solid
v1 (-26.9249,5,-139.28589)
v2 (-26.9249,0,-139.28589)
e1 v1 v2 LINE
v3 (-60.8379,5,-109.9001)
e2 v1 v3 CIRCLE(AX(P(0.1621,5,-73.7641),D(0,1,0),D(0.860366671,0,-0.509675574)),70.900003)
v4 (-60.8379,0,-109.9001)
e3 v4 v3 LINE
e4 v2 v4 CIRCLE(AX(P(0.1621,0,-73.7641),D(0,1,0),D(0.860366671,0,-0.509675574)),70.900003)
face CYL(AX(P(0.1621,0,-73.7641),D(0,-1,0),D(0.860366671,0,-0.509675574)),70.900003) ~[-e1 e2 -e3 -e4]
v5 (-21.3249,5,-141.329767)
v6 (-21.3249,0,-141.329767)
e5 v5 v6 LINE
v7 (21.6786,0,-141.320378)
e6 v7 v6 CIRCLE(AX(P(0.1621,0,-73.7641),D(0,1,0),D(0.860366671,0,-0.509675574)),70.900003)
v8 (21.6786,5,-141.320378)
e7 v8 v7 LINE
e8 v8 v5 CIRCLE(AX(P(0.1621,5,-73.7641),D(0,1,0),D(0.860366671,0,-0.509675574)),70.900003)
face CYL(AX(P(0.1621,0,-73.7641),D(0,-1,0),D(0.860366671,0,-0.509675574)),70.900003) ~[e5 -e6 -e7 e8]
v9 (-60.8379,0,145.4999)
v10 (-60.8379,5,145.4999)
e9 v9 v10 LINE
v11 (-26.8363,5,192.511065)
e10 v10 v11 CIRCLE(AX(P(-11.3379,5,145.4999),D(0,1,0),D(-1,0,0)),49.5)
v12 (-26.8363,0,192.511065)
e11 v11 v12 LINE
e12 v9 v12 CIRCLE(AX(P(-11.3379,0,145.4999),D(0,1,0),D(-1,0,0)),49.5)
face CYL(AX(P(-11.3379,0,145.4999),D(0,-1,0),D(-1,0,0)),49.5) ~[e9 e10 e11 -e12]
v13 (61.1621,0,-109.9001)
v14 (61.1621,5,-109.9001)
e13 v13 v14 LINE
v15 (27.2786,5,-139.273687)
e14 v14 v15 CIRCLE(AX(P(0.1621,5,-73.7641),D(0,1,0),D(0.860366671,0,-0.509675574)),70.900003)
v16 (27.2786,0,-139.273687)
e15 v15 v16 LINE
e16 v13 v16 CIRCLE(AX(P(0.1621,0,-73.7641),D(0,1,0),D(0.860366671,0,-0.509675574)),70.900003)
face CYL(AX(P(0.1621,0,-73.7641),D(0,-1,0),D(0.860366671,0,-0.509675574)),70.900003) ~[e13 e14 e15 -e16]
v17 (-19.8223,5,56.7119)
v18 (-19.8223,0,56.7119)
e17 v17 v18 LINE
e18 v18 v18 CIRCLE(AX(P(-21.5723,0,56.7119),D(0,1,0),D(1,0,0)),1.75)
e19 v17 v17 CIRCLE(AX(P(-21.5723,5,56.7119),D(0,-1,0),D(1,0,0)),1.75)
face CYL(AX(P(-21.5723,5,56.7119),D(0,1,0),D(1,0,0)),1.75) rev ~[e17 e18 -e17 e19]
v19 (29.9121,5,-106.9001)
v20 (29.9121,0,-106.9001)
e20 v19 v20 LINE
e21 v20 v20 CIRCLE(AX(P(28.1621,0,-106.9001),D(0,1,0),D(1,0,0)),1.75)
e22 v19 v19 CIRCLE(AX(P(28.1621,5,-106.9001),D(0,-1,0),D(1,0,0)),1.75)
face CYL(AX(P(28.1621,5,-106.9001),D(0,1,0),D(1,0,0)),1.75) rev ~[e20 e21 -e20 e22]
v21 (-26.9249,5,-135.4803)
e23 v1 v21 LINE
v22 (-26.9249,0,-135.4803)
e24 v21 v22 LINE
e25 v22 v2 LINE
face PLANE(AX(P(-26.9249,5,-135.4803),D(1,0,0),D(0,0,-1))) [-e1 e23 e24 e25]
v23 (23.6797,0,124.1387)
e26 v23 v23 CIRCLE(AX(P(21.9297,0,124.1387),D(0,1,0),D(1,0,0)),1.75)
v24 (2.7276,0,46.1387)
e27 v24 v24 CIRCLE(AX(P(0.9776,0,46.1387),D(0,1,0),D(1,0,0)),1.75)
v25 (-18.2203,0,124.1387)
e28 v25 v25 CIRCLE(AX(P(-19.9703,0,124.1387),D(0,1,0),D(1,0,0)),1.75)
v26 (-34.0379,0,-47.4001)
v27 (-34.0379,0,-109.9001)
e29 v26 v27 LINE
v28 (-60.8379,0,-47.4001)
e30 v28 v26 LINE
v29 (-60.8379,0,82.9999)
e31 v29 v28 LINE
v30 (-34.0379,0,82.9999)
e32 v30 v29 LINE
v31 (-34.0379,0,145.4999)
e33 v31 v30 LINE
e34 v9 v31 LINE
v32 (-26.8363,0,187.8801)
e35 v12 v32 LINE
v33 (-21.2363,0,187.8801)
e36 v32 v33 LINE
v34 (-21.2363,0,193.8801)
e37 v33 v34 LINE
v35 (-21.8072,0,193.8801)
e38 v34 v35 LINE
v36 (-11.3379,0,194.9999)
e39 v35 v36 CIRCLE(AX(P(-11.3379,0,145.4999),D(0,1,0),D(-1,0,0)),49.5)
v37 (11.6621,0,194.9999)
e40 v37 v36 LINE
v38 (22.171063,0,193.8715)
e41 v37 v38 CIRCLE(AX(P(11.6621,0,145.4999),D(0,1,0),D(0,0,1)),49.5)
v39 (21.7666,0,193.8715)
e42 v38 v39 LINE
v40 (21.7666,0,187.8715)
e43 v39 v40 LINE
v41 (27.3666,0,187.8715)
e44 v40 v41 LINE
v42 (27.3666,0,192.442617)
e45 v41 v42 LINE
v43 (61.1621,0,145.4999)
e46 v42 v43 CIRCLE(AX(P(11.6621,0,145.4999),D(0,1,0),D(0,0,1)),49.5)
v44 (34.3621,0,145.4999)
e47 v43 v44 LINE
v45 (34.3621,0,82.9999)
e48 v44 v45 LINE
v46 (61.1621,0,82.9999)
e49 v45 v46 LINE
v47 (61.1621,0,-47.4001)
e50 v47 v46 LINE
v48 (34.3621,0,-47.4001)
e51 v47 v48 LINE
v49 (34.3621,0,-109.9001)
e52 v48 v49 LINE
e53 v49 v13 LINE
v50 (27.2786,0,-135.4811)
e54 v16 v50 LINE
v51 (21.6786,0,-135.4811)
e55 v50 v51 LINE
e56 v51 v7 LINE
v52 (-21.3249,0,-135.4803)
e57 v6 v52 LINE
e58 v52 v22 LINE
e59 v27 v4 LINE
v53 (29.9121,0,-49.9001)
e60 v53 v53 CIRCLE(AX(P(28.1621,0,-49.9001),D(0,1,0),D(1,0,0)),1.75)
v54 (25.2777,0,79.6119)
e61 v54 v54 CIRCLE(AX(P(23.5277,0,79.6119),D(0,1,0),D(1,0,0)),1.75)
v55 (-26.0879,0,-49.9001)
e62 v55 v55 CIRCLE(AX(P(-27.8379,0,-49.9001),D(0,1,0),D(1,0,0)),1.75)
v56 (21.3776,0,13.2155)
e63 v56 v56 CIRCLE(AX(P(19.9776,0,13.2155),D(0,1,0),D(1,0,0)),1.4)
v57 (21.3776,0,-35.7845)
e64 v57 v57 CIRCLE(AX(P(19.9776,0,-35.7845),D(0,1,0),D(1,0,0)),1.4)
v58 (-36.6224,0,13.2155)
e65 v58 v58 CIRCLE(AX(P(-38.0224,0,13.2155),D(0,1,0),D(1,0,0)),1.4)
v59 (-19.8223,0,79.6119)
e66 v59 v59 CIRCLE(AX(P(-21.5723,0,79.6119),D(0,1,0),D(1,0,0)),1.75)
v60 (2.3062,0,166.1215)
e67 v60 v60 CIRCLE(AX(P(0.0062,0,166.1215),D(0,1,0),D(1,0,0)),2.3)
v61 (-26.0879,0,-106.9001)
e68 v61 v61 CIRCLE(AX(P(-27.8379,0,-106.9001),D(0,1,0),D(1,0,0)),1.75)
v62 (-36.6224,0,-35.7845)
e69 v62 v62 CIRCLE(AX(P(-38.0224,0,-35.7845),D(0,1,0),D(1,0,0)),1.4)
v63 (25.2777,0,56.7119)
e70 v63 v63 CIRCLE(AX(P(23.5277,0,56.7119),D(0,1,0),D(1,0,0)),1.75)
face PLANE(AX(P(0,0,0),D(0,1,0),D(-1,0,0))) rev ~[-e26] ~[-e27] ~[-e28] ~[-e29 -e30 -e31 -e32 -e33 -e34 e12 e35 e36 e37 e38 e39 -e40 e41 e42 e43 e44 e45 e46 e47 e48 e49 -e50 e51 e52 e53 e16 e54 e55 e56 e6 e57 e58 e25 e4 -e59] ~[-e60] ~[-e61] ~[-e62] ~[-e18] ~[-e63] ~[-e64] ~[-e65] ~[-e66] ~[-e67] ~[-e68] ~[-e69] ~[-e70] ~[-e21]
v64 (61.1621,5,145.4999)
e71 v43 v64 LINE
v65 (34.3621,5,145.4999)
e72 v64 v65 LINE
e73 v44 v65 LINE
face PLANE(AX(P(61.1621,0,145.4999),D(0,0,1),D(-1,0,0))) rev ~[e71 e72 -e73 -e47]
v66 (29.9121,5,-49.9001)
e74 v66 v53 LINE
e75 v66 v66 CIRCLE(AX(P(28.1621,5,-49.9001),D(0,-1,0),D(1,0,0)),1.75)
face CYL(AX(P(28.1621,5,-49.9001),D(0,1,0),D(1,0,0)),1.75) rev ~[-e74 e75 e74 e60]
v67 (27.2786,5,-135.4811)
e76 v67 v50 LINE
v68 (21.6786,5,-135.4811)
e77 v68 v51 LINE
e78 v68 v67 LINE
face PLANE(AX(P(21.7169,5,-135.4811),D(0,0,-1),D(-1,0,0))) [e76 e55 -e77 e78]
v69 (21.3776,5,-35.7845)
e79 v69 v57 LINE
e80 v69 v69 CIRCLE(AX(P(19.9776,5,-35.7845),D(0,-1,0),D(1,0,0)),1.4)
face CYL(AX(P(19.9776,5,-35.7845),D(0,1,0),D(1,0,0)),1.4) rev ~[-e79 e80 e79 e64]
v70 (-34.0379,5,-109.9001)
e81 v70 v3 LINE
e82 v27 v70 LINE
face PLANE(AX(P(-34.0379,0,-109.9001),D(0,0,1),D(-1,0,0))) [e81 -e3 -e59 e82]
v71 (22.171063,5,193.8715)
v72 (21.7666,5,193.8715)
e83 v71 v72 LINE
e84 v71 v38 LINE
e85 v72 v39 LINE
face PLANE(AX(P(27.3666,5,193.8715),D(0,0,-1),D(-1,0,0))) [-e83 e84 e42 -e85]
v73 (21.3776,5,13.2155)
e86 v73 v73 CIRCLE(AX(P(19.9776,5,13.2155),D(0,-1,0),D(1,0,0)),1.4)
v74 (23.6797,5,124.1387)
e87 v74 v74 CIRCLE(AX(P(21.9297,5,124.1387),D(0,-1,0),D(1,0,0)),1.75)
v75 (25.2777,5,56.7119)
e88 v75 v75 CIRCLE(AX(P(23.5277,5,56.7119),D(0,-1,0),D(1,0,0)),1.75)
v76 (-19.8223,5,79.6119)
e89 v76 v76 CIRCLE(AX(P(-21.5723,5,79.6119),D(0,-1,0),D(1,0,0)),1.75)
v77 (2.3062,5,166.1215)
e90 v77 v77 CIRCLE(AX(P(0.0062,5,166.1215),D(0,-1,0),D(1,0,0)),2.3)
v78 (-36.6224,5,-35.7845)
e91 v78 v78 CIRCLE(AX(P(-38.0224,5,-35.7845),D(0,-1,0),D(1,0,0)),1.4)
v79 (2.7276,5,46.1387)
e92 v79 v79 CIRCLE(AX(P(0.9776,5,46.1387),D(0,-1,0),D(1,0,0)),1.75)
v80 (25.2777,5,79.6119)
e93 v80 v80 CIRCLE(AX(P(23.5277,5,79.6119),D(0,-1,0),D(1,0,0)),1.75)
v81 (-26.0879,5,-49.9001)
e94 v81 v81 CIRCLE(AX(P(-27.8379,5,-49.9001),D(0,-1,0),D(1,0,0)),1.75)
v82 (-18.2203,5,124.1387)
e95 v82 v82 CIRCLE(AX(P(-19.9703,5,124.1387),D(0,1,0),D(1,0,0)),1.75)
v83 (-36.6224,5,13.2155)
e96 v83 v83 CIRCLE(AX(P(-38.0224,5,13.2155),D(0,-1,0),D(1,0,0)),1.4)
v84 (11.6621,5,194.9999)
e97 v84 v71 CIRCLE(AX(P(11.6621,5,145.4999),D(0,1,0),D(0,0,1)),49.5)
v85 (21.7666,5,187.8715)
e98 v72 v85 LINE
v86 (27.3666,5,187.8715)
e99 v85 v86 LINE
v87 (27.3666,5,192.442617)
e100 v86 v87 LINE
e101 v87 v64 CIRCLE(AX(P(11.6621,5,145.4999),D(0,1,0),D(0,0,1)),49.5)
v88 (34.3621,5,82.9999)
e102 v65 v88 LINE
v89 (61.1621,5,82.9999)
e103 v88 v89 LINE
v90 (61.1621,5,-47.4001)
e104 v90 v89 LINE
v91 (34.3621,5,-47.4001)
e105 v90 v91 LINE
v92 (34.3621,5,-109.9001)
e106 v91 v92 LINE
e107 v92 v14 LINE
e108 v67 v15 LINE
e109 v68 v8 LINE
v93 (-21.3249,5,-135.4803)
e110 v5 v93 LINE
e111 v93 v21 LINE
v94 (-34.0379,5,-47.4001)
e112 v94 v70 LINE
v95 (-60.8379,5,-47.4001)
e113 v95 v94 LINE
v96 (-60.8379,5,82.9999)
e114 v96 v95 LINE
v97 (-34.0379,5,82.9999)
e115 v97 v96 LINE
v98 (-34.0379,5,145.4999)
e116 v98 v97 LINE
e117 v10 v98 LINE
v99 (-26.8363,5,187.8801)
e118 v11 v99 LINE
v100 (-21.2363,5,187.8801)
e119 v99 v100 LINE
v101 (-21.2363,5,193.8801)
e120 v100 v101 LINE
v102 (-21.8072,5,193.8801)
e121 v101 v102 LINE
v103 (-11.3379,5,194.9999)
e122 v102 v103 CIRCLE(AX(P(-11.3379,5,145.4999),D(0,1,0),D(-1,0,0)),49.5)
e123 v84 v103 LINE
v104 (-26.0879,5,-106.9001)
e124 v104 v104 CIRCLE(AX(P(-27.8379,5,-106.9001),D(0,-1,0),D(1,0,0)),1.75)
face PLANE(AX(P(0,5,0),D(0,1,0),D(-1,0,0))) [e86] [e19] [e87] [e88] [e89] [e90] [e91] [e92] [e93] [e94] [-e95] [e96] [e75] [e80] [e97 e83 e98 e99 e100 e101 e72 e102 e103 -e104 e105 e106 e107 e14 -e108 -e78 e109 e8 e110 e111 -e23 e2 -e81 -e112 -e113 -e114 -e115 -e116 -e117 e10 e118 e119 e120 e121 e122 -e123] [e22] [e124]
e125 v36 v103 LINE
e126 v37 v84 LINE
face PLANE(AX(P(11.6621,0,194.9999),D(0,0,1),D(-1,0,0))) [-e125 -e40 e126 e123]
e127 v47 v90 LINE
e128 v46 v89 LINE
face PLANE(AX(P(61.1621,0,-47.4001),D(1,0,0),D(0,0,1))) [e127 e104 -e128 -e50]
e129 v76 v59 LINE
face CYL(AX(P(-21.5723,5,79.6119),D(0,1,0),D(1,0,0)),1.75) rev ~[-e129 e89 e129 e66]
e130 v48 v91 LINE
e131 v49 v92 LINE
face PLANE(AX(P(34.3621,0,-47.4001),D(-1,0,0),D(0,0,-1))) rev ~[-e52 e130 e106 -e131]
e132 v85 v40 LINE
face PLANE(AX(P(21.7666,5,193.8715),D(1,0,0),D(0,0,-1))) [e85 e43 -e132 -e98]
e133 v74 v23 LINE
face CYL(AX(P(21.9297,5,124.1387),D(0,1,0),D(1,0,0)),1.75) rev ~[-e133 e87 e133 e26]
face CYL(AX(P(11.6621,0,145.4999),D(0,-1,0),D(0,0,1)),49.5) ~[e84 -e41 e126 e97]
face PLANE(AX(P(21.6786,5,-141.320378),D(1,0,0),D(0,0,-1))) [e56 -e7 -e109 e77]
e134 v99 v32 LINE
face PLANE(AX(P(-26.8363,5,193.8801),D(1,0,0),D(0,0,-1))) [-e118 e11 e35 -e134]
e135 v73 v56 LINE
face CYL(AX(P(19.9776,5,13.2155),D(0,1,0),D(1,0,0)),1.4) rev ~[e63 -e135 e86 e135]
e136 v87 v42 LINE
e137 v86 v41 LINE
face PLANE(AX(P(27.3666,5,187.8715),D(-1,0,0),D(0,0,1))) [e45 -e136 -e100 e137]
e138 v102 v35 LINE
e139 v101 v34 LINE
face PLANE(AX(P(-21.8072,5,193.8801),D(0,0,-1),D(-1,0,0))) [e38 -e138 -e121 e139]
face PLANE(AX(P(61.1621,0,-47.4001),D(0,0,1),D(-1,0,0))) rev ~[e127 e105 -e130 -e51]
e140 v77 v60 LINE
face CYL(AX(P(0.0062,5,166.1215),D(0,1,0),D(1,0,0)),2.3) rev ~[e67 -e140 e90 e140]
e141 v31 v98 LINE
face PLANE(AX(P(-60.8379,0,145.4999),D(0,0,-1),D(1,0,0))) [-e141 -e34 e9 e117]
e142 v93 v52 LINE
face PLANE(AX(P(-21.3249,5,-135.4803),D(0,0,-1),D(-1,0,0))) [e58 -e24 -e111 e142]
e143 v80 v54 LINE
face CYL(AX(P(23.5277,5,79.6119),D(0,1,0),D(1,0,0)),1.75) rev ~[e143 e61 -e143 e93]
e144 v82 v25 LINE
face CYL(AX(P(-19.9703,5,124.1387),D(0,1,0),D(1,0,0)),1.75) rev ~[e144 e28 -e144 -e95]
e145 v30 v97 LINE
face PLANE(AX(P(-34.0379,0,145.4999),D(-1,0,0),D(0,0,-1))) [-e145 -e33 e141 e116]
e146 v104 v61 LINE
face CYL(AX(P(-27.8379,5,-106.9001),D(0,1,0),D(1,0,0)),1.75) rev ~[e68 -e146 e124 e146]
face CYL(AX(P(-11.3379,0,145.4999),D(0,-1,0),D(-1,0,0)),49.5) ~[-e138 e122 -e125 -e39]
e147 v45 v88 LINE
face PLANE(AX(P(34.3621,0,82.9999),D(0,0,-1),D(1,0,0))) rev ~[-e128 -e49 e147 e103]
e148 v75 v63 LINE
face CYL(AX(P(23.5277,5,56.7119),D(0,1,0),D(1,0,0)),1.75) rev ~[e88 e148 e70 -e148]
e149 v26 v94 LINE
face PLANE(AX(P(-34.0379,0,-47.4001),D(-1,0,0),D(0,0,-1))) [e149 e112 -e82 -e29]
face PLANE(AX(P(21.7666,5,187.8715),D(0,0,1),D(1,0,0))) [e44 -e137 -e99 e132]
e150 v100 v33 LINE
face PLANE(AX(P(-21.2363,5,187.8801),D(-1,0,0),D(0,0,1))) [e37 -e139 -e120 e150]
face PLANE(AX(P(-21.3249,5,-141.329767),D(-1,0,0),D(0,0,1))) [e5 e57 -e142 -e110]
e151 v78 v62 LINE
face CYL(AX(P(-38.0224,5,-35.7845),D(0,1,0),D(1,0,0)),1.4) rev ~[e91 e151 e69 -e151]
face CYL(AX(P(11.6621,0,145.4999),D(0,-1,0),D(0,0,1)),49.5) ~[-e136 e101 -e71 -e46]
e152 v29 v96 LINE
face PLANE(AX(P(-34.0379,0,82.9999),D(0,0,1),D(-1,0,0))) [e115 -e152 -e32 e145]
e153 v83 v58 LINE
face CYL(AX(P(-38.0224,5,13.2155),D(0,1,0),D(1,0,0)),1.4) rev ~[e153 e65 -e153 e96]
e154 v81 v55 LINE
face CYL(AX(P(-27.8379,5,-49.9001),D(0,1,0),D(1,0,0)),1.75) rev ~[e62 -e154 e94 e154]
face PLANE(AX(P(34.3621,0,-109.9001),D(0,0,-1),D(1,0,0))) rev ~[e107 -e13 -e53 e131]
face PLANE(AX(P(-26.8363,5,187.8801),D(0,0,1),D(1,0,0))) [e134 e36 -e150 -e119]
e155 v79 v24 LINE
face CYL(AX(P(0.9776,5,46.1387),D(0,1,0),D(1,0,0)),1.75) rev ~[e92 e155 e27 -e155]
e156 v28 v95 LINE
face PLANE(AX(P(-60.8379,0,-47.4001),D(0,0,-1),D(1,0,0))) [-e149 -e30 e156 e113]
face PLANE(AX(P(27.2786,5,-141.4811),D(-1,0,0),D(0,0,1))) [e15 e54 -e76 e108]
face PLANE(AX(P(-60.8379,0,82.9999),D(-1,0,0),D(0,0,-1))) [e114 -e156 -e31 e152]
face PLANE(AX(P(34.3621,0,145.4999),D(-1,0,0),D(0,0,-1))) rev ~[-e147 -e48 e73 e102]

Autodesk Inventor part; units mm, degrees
ref_plane "YZ Plane" through (0, 0, 0) normal (1, 0, 0) x (0, 1, 0)
ref_plane "XZ Plane" through (0, 0, 0) normal (0, 1, 0) x (-1, 0, 0)
ref_plane "XY Plane" through (0, 0, 0) normal (0, 0, 1) x (1, 0, 0)
sketch "Sketch1" plane through (0, 0, 0) normal (0, 1, 0) x (-1, 0, 0)
  line L0 (-11.6621, 194.9999) -> (11.3379, 194.9999)
  line L1 (60.8379, 145.4999) -> (60.8379, -109.9001)
  line L2 (-61.1621, -109.9001) -> (-61.1621, 145.4999)
  line L3 (-61.1621, 194.9999) -> (61.1621, -194.9999) construction
  line L4 (60.8379, 194.9999) -> (-60.8379, -194.9999) construction
  arc A0 (60.8379, 145.4999) -> (11.3379, 194.9999) centre (11.3379, 145.4999) ccw
  arc A1 (-11.6621, 194.9999) -> (-61.1621, 145.4999) centre (-11.6621, 145.4999) ccw
  line L5 (-61.1621, 145.4999) -> (-34.3621, 145.4999)
  line L6 (-34.3621, 145.4999) -> (-34.3621, 82.9999)
  line L7 (-34.3621, 82.9999) -> (-61.1621, 82.9999)
  line L8 (-61.1621, 82.9999) -> (-61.1621, 145.4999)
  line L9 (-61.1621, 82.9999) -> (-61.1621, -47.4001)
  line L10 (-61.1621, -47.4001) -> (-34.3621, -47.4001)
  line L11 (-34.3621, -47.4001) -> (-34.3621, -109.9001)
  line L12 (-34.3621, -109.9001) -> (-61.1621, -109.9001)
  line L13 (-61.1621, -109.9001) -> (-61.1621, -47.4001)
  line L14 (60.8379, 145.4999) -> (34.0379, 145.4999)
  line L15 (34.0379, 145.4999) -> (34.0379, 82.9999)
  line L16 (34.0379, 82.9999) -> (60.8379, 82.9999)
  line L17 (60.8379, 82.9999) -> (60.8379, 145.4999)
  line L18 (60.8379, -47.4001) -> (34.0379, -47.4001)
  line L19 (34.0379, -47.4001) -> (34.0379, -109.9001)
  line L20 (34.0379, -109.9001) -> (60.8379, -109.9001)
  line L21 (60.8379, -109.9001) -> (60.8379, -47.4001)
  arc A2 (-61.1621, -109.9001) -> (60.8379, -109.9001) centre (-0.1621, -73.7641) ccw
  point P0 (0, 0)
  dimension "d0" = 122
  dimension "d1" = 390
  dimension "d2" = 49.5
  dimension "d4" = 26.8
  dimension "d5" = 62.5
  dimension "d6" = 130.4
  dimension "d7" = 26.8
  dimension "d8" = 62.5
  dimension "d9" = 26.8
  dimension "d10" = 62.5
  dimension "d11" = 26.8
  dimension "d12" = 62.5
  dimension "d13" = 70.9
extrude "Extrusion1" add sketch "Sketch1" along normal blind 5 contours L0 A0 L14 L15 L16 L1 L18 L19 L20 A2 L12 L11 L10 L2 L7 L6 L5 A1
sketch "Boceto2" plane through (0, 5, 0) normal (0, 1, 0) x (1, 0, 0)
  point P0 (0, 0)
sketch "Boceto3" plane through (0, 5, 0) normal (0, 1, 0) x (1, 0, 0)
  line L0 (-11.3379, -194.9999) -> (11.6621, -194.9999) projected
  line L1 (0.1621, -194.9999) -> (0.1621, -184.9999)
  line L2 (-2.7008, -183.6215) -> (19.0062, -183.6215)
  line L3 (19.0062, -183.6215) -> (-18.9938, -183.6215)
  line L4 (-2.7008, -148.6215) -> (19.0062, -148.6215)
  line L5 (19.0062, -148.6215) -> (-18.9938, -148.6215)
  line L6 (-18.9938, -148.6215) -> (-18.9938, -183.6215)
  line L7 (19.0062, -148.6215) -> (19.0062, -183.6215)
  line L8 (61.1621, -82.9999) -> (61.1621, 47.4001) projected
  line L9 (-60.8379, 47.4001) -> (-60.8379, -82.9999) projected
  line L10 (21.7666, -187.8715) -> (27.3666, -187.8715)
  line L11 (27.3666, -187.8715) -> (27.3666, -193.8715)
  line L12 (27.3666, -193.8715) -> (21.7666, -193.8715)
  line L13 (21.7666, -193.8715) -> (21.7666, -187.8715)
  line L14 (-11.3379, -194.9999) -> (-14.1379, -194.9999)
  arc A0 (-60.8379, -145.4999) -> (-11.3379, -194.9999) centre (-11.3379, -145.4999) ccw projected
  line L15 (-26.8363, -187.8801) -> (-21.2363, -187.8801)
  line L16 (-21.2363, -187.8801) -> (-21.2363, -193.8801)
  line L17 (-21.2363, -193.8801) -> (-26.8363, -193.8801)
  line L18 (-26.8363, -193.8801) -> (-26.8363, -187.8801)
  line L19 (21.7169, 135.4811) -> (27.3169, 135.4811)
  arc A1 (61.1621, 109.9001) -> (-60.8379, 109.9001) centre (0.1621, 73.7641) ccw projected
  line L20 (21.6786, 141.4811) -> (27.2786, 141.4811)
  line L21 (27.2786, 141.4811) -> (27.2786, 135.4811)
  line L22 (27.2786, 135.4811) -> (21.6786, 135.4811)
  line L23 (21.6786, 135.4811) -> (21.6786, 141.4811)
  line L24 (-26.9249, 141.4803) -> (-21.3249, 141.4803)
  line L25 (-21.3249, 141.4803) -> (-21.3249, 135.4803)
  line L26 (-21.3249, 135.4803) -> (-26.9249, 135.4803)
  line L27 (-26.9249, 135.4803) -> (-26.9249, 141.4803)
  line L28 (0.404, 144.7464) -> (0.404, -197.1126)
  line L29 (-34.0379, 47.4001) -> (-60.8379, 47.4001) projected
  line L30 (-60.8379, 47.4001) -> (-50.8379, 47.4001)
  line L31 (-41.5224, -16.7155) -> (-41.5224, 39.2845)
  line L32 (-41.5224, 39.2845) -> (43.4776, 39.2845)
  line L33 (43.4776, 39.2845) -> (43.4776, -16.7155)
  line L34 (43.4776, -16.7155) -> (-41.5224, -16.7155)
  line L35 (0.544, 11.7839) -> (0.544, 15.8925)
  line L36 (0.9776, 39.2845) -> (0.9776, -16.7155)
  line L37 (-21.3249, 141.4803) -> (21.6751, 141.4803)
  arc A2 (-60.8379, -145.4999) -> (-11.3379, -194.9999) centre (-11.3379, -145.4999) ccw projected
  line L38 (-34.0379, -82.9999) -> (-34.0379, -145.4999) projected
  line L39 (-21.2334, -193.8715) -> (-21.2169, -197.8147)
  line L40 (21.1268, -127.3043) -> (21.1268, -110.8043)
  line L41 (21.9297, -127.1387) -> (21.9297, -124.1387)
  line L42 (21.9297, -124.1387) -> (-19.9703, -124.1387)
  circle A3 centre (21.9297, -124.1387) radius 1.75
  circle A4 centre (-19.9703, -124.1387) radius 1.75
  line L43 (0.9797, -124.1387) -> (0.9776, -46.1387)
  circle A5 centre (0.9776, -46.1387) radius 1.75
  line L44 (3.2596, -48.0861) -> (0.432, -49.0887)
  line L45 (0.432, -49.0887) -> (-1.8499, -47.1412)
  line L46 (-1.8499, -47.1412) -> (-1.3044, -44.1913)
  line L47 (-1.3044, -44.1913) -> (1.5231, -43.1887)
  line L48 (1.5231, -43.1887) -> (3.8051, -45.1361)
  line L49 (3.8051, -45.1361) -> (3.2596, -48.0861)
  line L50 (0.9777, -49.2626) -> (28.4777, -49.2619)
  line L51 (28.4777, -49.2619) -> (-26.5223, -49.2619)
  line L52 (-26.5223, -49.2619) -> (-26.5223, -87.0619)
  line L53 (-26.5223, -87.0619) -> (28.4777, -87.0619)
  line L54 (28.4777, -87.0619) -> (28.4777, -49.2619)
  line L55 (-26.5223, -49.2619) -> (-23.3223, -49.2619)
  line L56 (-23.3223, -49.2619) -> (-23.3223, -54.9619)
  line L57 (-23.3223, -54.9619) -> (-21.5723, -54.9619)
  line L58 (-21.5723, -54.9619) -> (-21.5723, -56.7119)
  circle A6 centre (-21.5723, -56.7119) radius 1.75
  line L59 (-21.5723, -56.7119) -> (28.4777, -56.7119)
  line L60 (-21.5723, -56.7119) -> (-21.5723, -87.0619)
  line L61 (28.4777, -87.0619) -> (23.5277, -87.0619)
  line L62 (23.5277, -87.0619) -> (23.5277, -79.6119)
  circle A7 centre (23.5277, -79.6119) radius 1.75
  line L63 (23.5277, -79.6119) -> (-26.5223, -79.6119)
  line L64 (23.5277, -79.6119) -> (23.5277, -49.2619)
  circle A8 centre (23.5277, -56.7119) radius 1.75
  circle A9 centre (-21.5723, -79.6119) radius 1.75
  line L65 (-18.9938, -183.6215) -> (0.0062, -183.6215)
  line L66 (0.0062, -183.6215) -> (0.0062, -148.6215)
  line L67 (-21.2334, -193.8715) -> (21.7666, -193.8715)
  circle A10 centre (0.0062, -166.1215) radius 2.3
  line L68 (-41.5224, 39.2845) -> (-38.0224, 39.2845)
  line L69 (-38.0224, 39.2845) -> (-38.0224, 35.7845)
  line L70 (-38.0224, 35.7845) -> (19.9776, 35.7845)
  line L71 (19.9776, 35.7845) -> (19.9776, -13.2155)
  line L72 (19.9776, -13.2155) -> (-38.0224, -13.2155)
  line L73 (-38.0224, -13.2155) -> (-38.0224, 35.7845)
  circle A11 centre (-38.0224, 35.7845) radius 1.4
  circle A12 centre (19.9776, 35.7845) radius 1.4
  circle A13 centre (19.9776, -13.2155) radius 1.4
  circle A14 centre (-38.0224, -13.2155) radius 1.4
  line L74 (-34.0379, 109.9001) -> (-31.8379, 109.9001)
  line L75 (34.3621, 47.4001) -> (34.3621, 109.9001) projected
  line L76 (34.3621, 109.9001) -> (32.1621, 109.9001)
  line L77 (-31.8379, 109.9001) -> (32.1621, 109.9001)
  line L78 (32.1621, 109.9001) -> (32.1621, 47.4001)
  line L79 (32.1621, 47.4001) -> (-31.8379, 47.4001)
  line L80 (-31.8379, 47.4001) -> (-31.8379, 109.9001)
  line L81 (-31.8379, 109.9001) -> (-27.8379, 109.9001)
  line L82 (-27.8379, 109.9001) -> (-27.8379, 106.9001)
  line L83 (-27.8379, 106.9001) -> (28.1621, 106.9001)
  line L84 (28.1621, 106.9001) -> (28.1621, 49.9001)
  line L85 (28.1621, 49.9001) -> (-27.8379, 49.9001)
  line L86 (-27.8379, 49.9001) -> (-27.8379, 106.9001)
  circle A15 centre (-27.8379, 106.9001) radius 1.75
  circle A16 centre (28.1621, 106.9001) radius 1.75
  circle A17 centre (-27.8379, 49.9001) radius 1.75
  circle A18 centre (28.1621, 49.9001) radius 1.75
  point P0 (-21.5954, -147.627)
  point P1 (-17.4759, -197.9035)
  point P2 (-17.3346, -191.9653)
  point P3 (21.8949, -190.8298)
  point P4 (-20.3189, 140.8602)
  point P5 (0.404, -148.6215)
  point P6 (21.7169, 135.4811)
  point P7 (27.2786, 135.4811)
  point P8 (-26.8363, -192.5111)
  point P9 (-21.2363, -194.0001)
  point P10 (0.404, -148.6215)
  point P11 (-21.8071, -193.8801)
  point P12 (0.404, -183.6215)
  dimension "d16" = 10
  dimension "d18" = 38
  dimension "d19" = 35
  dimension "d21" = 38
  dimension "d29" = 5.6
  dimension "d30" = 6
  dimension "d36" = 5.6
  dimension "d44" = 5.6
  dimension "d45" = 6
  dimension "d46" = 5.6
  dimension "d47" = 6
  dimension "d69" = 56
  dimension "d70" = 85
  dimension "d128" = 16.5
  dimension "d133" = 3
  dimension "d134" = 3.5
  dimension "d135" = 3.5
  dimension "d136" = 78
  dimension "d137" = 41.9
  dimension "d138" = 3.5
  dimension "d139" = 3
  dimension "d140" = 27.5
  dimension "d141" = 55
  dimension "d142" = 37.8
  dimension "d143" = 3.2
  dimension "d144" = 5.7
  dimension "d146" = 1.75
  dimension "d147" = 1.75
  dimension "d148" = 3.5
  dimension "d149" = 4.95
  dimension "d150" = 7.45
  dimension "d151" = 3.5
  dimension "d152" = 3.5
  dimension "d153" = 3.5
  dimension "d156" = 19
  dimension "d157" = 35
  dimension "d158" = 90
  dimension "d159" = 43
  dimension "d160" = 43
  dimension "d161" = 4.6
  dimension "d164" = 3.5
  dimension "d165" = 3.5
  dimension "d166" = 58
  dimension "d167" = 49
  dimension "d168" = 58
  dimension "d169" = 90
  dimension "d170" = 2.8
  dimension "d171" = 2.8
  dimension "d172" = 2.8
  dimension "d173" = 2.8
  dimension "d174" = 2.2
  dimension "d175" = 2.2
  dimension "d176" = 62.5
  dimension "d177" = 64
  dimension "d178" = 4
  dimension "d179" = 3
  dimension "d180" = 56
  dimension "d181" = 57
  dimension "d182" = 3.5
  dimension "d183" = 3.5
  dimension "d184" = 3.5
  dimension "d185" = 3.5
extrude "Extrusión2" add sketch "Boceto3" against normal blind 1 contours L2 L66 A10 L28 | L28 A10 L4 L7 L2 | L2 L3 L6 L5 L4 L66 A10 | A10 L66 L28 | L28 A10 | A10 L66 | A10 L66 L4 L28
extrude "Extrusión4" cut sketch "Boceto3" against normal blind 20 contours L17 L18 A0 | A0 L18 L15 L16 L17 | L23 L20 L21 A1 | A1 L21 L19 L22 L23 | L13 L10 L11 L12 | L25 L26 L27 A1 | A1 L27 L24 L25
extrude "Extrusión6" cut sketch "Boceto3" against normal blind 10 contours A14 L73 L72 | L72 L73 A14 | A11 L73 L70 | L70 L69 A11 | A13 L71 L72 | L72 L71 A13 | L73 A11 L69 | A12 L71 L70 | L70 L71 A12
extrude "Extrusión7" cut sketch "Boceto3" against normal blind 5 contours A4 | A3 L40 L42 | L42 L40 A3 | A9 L60 L63 | L63 L60 A9 | A9 L63 L60 | L42 L41 A3 L40 | L40 A3 L41 L42 | L59 L58 A6 | A6 L60 L59 | L63 L62 A7 | A7 L64 L63 | L63 A9 L60 | L62 L64 A7 | L58 L60 A6 | A8 L64 L59 | L59 L64 A8 | A5 L28 | L28 A5 | L64 A8 L59 | L59 A8 L64
extrude "Extrusión8" cut sketch "Boceto3" against normal blind 5 contours A10 L66 L28 | L28 A10 | A10 L66
extrude "Extrusión9" cut sketch "Boceto3" against normal blind 10 contours A18 L84 L85 | L85 L84 A18 | A17 L86 L85 | L85 L86 A17 | A15 L86 L83 | L83 L82 A15 | A16 L84 L83 | L83 L84 A16 | L86 A15 L82
properties part number "base automodel"
